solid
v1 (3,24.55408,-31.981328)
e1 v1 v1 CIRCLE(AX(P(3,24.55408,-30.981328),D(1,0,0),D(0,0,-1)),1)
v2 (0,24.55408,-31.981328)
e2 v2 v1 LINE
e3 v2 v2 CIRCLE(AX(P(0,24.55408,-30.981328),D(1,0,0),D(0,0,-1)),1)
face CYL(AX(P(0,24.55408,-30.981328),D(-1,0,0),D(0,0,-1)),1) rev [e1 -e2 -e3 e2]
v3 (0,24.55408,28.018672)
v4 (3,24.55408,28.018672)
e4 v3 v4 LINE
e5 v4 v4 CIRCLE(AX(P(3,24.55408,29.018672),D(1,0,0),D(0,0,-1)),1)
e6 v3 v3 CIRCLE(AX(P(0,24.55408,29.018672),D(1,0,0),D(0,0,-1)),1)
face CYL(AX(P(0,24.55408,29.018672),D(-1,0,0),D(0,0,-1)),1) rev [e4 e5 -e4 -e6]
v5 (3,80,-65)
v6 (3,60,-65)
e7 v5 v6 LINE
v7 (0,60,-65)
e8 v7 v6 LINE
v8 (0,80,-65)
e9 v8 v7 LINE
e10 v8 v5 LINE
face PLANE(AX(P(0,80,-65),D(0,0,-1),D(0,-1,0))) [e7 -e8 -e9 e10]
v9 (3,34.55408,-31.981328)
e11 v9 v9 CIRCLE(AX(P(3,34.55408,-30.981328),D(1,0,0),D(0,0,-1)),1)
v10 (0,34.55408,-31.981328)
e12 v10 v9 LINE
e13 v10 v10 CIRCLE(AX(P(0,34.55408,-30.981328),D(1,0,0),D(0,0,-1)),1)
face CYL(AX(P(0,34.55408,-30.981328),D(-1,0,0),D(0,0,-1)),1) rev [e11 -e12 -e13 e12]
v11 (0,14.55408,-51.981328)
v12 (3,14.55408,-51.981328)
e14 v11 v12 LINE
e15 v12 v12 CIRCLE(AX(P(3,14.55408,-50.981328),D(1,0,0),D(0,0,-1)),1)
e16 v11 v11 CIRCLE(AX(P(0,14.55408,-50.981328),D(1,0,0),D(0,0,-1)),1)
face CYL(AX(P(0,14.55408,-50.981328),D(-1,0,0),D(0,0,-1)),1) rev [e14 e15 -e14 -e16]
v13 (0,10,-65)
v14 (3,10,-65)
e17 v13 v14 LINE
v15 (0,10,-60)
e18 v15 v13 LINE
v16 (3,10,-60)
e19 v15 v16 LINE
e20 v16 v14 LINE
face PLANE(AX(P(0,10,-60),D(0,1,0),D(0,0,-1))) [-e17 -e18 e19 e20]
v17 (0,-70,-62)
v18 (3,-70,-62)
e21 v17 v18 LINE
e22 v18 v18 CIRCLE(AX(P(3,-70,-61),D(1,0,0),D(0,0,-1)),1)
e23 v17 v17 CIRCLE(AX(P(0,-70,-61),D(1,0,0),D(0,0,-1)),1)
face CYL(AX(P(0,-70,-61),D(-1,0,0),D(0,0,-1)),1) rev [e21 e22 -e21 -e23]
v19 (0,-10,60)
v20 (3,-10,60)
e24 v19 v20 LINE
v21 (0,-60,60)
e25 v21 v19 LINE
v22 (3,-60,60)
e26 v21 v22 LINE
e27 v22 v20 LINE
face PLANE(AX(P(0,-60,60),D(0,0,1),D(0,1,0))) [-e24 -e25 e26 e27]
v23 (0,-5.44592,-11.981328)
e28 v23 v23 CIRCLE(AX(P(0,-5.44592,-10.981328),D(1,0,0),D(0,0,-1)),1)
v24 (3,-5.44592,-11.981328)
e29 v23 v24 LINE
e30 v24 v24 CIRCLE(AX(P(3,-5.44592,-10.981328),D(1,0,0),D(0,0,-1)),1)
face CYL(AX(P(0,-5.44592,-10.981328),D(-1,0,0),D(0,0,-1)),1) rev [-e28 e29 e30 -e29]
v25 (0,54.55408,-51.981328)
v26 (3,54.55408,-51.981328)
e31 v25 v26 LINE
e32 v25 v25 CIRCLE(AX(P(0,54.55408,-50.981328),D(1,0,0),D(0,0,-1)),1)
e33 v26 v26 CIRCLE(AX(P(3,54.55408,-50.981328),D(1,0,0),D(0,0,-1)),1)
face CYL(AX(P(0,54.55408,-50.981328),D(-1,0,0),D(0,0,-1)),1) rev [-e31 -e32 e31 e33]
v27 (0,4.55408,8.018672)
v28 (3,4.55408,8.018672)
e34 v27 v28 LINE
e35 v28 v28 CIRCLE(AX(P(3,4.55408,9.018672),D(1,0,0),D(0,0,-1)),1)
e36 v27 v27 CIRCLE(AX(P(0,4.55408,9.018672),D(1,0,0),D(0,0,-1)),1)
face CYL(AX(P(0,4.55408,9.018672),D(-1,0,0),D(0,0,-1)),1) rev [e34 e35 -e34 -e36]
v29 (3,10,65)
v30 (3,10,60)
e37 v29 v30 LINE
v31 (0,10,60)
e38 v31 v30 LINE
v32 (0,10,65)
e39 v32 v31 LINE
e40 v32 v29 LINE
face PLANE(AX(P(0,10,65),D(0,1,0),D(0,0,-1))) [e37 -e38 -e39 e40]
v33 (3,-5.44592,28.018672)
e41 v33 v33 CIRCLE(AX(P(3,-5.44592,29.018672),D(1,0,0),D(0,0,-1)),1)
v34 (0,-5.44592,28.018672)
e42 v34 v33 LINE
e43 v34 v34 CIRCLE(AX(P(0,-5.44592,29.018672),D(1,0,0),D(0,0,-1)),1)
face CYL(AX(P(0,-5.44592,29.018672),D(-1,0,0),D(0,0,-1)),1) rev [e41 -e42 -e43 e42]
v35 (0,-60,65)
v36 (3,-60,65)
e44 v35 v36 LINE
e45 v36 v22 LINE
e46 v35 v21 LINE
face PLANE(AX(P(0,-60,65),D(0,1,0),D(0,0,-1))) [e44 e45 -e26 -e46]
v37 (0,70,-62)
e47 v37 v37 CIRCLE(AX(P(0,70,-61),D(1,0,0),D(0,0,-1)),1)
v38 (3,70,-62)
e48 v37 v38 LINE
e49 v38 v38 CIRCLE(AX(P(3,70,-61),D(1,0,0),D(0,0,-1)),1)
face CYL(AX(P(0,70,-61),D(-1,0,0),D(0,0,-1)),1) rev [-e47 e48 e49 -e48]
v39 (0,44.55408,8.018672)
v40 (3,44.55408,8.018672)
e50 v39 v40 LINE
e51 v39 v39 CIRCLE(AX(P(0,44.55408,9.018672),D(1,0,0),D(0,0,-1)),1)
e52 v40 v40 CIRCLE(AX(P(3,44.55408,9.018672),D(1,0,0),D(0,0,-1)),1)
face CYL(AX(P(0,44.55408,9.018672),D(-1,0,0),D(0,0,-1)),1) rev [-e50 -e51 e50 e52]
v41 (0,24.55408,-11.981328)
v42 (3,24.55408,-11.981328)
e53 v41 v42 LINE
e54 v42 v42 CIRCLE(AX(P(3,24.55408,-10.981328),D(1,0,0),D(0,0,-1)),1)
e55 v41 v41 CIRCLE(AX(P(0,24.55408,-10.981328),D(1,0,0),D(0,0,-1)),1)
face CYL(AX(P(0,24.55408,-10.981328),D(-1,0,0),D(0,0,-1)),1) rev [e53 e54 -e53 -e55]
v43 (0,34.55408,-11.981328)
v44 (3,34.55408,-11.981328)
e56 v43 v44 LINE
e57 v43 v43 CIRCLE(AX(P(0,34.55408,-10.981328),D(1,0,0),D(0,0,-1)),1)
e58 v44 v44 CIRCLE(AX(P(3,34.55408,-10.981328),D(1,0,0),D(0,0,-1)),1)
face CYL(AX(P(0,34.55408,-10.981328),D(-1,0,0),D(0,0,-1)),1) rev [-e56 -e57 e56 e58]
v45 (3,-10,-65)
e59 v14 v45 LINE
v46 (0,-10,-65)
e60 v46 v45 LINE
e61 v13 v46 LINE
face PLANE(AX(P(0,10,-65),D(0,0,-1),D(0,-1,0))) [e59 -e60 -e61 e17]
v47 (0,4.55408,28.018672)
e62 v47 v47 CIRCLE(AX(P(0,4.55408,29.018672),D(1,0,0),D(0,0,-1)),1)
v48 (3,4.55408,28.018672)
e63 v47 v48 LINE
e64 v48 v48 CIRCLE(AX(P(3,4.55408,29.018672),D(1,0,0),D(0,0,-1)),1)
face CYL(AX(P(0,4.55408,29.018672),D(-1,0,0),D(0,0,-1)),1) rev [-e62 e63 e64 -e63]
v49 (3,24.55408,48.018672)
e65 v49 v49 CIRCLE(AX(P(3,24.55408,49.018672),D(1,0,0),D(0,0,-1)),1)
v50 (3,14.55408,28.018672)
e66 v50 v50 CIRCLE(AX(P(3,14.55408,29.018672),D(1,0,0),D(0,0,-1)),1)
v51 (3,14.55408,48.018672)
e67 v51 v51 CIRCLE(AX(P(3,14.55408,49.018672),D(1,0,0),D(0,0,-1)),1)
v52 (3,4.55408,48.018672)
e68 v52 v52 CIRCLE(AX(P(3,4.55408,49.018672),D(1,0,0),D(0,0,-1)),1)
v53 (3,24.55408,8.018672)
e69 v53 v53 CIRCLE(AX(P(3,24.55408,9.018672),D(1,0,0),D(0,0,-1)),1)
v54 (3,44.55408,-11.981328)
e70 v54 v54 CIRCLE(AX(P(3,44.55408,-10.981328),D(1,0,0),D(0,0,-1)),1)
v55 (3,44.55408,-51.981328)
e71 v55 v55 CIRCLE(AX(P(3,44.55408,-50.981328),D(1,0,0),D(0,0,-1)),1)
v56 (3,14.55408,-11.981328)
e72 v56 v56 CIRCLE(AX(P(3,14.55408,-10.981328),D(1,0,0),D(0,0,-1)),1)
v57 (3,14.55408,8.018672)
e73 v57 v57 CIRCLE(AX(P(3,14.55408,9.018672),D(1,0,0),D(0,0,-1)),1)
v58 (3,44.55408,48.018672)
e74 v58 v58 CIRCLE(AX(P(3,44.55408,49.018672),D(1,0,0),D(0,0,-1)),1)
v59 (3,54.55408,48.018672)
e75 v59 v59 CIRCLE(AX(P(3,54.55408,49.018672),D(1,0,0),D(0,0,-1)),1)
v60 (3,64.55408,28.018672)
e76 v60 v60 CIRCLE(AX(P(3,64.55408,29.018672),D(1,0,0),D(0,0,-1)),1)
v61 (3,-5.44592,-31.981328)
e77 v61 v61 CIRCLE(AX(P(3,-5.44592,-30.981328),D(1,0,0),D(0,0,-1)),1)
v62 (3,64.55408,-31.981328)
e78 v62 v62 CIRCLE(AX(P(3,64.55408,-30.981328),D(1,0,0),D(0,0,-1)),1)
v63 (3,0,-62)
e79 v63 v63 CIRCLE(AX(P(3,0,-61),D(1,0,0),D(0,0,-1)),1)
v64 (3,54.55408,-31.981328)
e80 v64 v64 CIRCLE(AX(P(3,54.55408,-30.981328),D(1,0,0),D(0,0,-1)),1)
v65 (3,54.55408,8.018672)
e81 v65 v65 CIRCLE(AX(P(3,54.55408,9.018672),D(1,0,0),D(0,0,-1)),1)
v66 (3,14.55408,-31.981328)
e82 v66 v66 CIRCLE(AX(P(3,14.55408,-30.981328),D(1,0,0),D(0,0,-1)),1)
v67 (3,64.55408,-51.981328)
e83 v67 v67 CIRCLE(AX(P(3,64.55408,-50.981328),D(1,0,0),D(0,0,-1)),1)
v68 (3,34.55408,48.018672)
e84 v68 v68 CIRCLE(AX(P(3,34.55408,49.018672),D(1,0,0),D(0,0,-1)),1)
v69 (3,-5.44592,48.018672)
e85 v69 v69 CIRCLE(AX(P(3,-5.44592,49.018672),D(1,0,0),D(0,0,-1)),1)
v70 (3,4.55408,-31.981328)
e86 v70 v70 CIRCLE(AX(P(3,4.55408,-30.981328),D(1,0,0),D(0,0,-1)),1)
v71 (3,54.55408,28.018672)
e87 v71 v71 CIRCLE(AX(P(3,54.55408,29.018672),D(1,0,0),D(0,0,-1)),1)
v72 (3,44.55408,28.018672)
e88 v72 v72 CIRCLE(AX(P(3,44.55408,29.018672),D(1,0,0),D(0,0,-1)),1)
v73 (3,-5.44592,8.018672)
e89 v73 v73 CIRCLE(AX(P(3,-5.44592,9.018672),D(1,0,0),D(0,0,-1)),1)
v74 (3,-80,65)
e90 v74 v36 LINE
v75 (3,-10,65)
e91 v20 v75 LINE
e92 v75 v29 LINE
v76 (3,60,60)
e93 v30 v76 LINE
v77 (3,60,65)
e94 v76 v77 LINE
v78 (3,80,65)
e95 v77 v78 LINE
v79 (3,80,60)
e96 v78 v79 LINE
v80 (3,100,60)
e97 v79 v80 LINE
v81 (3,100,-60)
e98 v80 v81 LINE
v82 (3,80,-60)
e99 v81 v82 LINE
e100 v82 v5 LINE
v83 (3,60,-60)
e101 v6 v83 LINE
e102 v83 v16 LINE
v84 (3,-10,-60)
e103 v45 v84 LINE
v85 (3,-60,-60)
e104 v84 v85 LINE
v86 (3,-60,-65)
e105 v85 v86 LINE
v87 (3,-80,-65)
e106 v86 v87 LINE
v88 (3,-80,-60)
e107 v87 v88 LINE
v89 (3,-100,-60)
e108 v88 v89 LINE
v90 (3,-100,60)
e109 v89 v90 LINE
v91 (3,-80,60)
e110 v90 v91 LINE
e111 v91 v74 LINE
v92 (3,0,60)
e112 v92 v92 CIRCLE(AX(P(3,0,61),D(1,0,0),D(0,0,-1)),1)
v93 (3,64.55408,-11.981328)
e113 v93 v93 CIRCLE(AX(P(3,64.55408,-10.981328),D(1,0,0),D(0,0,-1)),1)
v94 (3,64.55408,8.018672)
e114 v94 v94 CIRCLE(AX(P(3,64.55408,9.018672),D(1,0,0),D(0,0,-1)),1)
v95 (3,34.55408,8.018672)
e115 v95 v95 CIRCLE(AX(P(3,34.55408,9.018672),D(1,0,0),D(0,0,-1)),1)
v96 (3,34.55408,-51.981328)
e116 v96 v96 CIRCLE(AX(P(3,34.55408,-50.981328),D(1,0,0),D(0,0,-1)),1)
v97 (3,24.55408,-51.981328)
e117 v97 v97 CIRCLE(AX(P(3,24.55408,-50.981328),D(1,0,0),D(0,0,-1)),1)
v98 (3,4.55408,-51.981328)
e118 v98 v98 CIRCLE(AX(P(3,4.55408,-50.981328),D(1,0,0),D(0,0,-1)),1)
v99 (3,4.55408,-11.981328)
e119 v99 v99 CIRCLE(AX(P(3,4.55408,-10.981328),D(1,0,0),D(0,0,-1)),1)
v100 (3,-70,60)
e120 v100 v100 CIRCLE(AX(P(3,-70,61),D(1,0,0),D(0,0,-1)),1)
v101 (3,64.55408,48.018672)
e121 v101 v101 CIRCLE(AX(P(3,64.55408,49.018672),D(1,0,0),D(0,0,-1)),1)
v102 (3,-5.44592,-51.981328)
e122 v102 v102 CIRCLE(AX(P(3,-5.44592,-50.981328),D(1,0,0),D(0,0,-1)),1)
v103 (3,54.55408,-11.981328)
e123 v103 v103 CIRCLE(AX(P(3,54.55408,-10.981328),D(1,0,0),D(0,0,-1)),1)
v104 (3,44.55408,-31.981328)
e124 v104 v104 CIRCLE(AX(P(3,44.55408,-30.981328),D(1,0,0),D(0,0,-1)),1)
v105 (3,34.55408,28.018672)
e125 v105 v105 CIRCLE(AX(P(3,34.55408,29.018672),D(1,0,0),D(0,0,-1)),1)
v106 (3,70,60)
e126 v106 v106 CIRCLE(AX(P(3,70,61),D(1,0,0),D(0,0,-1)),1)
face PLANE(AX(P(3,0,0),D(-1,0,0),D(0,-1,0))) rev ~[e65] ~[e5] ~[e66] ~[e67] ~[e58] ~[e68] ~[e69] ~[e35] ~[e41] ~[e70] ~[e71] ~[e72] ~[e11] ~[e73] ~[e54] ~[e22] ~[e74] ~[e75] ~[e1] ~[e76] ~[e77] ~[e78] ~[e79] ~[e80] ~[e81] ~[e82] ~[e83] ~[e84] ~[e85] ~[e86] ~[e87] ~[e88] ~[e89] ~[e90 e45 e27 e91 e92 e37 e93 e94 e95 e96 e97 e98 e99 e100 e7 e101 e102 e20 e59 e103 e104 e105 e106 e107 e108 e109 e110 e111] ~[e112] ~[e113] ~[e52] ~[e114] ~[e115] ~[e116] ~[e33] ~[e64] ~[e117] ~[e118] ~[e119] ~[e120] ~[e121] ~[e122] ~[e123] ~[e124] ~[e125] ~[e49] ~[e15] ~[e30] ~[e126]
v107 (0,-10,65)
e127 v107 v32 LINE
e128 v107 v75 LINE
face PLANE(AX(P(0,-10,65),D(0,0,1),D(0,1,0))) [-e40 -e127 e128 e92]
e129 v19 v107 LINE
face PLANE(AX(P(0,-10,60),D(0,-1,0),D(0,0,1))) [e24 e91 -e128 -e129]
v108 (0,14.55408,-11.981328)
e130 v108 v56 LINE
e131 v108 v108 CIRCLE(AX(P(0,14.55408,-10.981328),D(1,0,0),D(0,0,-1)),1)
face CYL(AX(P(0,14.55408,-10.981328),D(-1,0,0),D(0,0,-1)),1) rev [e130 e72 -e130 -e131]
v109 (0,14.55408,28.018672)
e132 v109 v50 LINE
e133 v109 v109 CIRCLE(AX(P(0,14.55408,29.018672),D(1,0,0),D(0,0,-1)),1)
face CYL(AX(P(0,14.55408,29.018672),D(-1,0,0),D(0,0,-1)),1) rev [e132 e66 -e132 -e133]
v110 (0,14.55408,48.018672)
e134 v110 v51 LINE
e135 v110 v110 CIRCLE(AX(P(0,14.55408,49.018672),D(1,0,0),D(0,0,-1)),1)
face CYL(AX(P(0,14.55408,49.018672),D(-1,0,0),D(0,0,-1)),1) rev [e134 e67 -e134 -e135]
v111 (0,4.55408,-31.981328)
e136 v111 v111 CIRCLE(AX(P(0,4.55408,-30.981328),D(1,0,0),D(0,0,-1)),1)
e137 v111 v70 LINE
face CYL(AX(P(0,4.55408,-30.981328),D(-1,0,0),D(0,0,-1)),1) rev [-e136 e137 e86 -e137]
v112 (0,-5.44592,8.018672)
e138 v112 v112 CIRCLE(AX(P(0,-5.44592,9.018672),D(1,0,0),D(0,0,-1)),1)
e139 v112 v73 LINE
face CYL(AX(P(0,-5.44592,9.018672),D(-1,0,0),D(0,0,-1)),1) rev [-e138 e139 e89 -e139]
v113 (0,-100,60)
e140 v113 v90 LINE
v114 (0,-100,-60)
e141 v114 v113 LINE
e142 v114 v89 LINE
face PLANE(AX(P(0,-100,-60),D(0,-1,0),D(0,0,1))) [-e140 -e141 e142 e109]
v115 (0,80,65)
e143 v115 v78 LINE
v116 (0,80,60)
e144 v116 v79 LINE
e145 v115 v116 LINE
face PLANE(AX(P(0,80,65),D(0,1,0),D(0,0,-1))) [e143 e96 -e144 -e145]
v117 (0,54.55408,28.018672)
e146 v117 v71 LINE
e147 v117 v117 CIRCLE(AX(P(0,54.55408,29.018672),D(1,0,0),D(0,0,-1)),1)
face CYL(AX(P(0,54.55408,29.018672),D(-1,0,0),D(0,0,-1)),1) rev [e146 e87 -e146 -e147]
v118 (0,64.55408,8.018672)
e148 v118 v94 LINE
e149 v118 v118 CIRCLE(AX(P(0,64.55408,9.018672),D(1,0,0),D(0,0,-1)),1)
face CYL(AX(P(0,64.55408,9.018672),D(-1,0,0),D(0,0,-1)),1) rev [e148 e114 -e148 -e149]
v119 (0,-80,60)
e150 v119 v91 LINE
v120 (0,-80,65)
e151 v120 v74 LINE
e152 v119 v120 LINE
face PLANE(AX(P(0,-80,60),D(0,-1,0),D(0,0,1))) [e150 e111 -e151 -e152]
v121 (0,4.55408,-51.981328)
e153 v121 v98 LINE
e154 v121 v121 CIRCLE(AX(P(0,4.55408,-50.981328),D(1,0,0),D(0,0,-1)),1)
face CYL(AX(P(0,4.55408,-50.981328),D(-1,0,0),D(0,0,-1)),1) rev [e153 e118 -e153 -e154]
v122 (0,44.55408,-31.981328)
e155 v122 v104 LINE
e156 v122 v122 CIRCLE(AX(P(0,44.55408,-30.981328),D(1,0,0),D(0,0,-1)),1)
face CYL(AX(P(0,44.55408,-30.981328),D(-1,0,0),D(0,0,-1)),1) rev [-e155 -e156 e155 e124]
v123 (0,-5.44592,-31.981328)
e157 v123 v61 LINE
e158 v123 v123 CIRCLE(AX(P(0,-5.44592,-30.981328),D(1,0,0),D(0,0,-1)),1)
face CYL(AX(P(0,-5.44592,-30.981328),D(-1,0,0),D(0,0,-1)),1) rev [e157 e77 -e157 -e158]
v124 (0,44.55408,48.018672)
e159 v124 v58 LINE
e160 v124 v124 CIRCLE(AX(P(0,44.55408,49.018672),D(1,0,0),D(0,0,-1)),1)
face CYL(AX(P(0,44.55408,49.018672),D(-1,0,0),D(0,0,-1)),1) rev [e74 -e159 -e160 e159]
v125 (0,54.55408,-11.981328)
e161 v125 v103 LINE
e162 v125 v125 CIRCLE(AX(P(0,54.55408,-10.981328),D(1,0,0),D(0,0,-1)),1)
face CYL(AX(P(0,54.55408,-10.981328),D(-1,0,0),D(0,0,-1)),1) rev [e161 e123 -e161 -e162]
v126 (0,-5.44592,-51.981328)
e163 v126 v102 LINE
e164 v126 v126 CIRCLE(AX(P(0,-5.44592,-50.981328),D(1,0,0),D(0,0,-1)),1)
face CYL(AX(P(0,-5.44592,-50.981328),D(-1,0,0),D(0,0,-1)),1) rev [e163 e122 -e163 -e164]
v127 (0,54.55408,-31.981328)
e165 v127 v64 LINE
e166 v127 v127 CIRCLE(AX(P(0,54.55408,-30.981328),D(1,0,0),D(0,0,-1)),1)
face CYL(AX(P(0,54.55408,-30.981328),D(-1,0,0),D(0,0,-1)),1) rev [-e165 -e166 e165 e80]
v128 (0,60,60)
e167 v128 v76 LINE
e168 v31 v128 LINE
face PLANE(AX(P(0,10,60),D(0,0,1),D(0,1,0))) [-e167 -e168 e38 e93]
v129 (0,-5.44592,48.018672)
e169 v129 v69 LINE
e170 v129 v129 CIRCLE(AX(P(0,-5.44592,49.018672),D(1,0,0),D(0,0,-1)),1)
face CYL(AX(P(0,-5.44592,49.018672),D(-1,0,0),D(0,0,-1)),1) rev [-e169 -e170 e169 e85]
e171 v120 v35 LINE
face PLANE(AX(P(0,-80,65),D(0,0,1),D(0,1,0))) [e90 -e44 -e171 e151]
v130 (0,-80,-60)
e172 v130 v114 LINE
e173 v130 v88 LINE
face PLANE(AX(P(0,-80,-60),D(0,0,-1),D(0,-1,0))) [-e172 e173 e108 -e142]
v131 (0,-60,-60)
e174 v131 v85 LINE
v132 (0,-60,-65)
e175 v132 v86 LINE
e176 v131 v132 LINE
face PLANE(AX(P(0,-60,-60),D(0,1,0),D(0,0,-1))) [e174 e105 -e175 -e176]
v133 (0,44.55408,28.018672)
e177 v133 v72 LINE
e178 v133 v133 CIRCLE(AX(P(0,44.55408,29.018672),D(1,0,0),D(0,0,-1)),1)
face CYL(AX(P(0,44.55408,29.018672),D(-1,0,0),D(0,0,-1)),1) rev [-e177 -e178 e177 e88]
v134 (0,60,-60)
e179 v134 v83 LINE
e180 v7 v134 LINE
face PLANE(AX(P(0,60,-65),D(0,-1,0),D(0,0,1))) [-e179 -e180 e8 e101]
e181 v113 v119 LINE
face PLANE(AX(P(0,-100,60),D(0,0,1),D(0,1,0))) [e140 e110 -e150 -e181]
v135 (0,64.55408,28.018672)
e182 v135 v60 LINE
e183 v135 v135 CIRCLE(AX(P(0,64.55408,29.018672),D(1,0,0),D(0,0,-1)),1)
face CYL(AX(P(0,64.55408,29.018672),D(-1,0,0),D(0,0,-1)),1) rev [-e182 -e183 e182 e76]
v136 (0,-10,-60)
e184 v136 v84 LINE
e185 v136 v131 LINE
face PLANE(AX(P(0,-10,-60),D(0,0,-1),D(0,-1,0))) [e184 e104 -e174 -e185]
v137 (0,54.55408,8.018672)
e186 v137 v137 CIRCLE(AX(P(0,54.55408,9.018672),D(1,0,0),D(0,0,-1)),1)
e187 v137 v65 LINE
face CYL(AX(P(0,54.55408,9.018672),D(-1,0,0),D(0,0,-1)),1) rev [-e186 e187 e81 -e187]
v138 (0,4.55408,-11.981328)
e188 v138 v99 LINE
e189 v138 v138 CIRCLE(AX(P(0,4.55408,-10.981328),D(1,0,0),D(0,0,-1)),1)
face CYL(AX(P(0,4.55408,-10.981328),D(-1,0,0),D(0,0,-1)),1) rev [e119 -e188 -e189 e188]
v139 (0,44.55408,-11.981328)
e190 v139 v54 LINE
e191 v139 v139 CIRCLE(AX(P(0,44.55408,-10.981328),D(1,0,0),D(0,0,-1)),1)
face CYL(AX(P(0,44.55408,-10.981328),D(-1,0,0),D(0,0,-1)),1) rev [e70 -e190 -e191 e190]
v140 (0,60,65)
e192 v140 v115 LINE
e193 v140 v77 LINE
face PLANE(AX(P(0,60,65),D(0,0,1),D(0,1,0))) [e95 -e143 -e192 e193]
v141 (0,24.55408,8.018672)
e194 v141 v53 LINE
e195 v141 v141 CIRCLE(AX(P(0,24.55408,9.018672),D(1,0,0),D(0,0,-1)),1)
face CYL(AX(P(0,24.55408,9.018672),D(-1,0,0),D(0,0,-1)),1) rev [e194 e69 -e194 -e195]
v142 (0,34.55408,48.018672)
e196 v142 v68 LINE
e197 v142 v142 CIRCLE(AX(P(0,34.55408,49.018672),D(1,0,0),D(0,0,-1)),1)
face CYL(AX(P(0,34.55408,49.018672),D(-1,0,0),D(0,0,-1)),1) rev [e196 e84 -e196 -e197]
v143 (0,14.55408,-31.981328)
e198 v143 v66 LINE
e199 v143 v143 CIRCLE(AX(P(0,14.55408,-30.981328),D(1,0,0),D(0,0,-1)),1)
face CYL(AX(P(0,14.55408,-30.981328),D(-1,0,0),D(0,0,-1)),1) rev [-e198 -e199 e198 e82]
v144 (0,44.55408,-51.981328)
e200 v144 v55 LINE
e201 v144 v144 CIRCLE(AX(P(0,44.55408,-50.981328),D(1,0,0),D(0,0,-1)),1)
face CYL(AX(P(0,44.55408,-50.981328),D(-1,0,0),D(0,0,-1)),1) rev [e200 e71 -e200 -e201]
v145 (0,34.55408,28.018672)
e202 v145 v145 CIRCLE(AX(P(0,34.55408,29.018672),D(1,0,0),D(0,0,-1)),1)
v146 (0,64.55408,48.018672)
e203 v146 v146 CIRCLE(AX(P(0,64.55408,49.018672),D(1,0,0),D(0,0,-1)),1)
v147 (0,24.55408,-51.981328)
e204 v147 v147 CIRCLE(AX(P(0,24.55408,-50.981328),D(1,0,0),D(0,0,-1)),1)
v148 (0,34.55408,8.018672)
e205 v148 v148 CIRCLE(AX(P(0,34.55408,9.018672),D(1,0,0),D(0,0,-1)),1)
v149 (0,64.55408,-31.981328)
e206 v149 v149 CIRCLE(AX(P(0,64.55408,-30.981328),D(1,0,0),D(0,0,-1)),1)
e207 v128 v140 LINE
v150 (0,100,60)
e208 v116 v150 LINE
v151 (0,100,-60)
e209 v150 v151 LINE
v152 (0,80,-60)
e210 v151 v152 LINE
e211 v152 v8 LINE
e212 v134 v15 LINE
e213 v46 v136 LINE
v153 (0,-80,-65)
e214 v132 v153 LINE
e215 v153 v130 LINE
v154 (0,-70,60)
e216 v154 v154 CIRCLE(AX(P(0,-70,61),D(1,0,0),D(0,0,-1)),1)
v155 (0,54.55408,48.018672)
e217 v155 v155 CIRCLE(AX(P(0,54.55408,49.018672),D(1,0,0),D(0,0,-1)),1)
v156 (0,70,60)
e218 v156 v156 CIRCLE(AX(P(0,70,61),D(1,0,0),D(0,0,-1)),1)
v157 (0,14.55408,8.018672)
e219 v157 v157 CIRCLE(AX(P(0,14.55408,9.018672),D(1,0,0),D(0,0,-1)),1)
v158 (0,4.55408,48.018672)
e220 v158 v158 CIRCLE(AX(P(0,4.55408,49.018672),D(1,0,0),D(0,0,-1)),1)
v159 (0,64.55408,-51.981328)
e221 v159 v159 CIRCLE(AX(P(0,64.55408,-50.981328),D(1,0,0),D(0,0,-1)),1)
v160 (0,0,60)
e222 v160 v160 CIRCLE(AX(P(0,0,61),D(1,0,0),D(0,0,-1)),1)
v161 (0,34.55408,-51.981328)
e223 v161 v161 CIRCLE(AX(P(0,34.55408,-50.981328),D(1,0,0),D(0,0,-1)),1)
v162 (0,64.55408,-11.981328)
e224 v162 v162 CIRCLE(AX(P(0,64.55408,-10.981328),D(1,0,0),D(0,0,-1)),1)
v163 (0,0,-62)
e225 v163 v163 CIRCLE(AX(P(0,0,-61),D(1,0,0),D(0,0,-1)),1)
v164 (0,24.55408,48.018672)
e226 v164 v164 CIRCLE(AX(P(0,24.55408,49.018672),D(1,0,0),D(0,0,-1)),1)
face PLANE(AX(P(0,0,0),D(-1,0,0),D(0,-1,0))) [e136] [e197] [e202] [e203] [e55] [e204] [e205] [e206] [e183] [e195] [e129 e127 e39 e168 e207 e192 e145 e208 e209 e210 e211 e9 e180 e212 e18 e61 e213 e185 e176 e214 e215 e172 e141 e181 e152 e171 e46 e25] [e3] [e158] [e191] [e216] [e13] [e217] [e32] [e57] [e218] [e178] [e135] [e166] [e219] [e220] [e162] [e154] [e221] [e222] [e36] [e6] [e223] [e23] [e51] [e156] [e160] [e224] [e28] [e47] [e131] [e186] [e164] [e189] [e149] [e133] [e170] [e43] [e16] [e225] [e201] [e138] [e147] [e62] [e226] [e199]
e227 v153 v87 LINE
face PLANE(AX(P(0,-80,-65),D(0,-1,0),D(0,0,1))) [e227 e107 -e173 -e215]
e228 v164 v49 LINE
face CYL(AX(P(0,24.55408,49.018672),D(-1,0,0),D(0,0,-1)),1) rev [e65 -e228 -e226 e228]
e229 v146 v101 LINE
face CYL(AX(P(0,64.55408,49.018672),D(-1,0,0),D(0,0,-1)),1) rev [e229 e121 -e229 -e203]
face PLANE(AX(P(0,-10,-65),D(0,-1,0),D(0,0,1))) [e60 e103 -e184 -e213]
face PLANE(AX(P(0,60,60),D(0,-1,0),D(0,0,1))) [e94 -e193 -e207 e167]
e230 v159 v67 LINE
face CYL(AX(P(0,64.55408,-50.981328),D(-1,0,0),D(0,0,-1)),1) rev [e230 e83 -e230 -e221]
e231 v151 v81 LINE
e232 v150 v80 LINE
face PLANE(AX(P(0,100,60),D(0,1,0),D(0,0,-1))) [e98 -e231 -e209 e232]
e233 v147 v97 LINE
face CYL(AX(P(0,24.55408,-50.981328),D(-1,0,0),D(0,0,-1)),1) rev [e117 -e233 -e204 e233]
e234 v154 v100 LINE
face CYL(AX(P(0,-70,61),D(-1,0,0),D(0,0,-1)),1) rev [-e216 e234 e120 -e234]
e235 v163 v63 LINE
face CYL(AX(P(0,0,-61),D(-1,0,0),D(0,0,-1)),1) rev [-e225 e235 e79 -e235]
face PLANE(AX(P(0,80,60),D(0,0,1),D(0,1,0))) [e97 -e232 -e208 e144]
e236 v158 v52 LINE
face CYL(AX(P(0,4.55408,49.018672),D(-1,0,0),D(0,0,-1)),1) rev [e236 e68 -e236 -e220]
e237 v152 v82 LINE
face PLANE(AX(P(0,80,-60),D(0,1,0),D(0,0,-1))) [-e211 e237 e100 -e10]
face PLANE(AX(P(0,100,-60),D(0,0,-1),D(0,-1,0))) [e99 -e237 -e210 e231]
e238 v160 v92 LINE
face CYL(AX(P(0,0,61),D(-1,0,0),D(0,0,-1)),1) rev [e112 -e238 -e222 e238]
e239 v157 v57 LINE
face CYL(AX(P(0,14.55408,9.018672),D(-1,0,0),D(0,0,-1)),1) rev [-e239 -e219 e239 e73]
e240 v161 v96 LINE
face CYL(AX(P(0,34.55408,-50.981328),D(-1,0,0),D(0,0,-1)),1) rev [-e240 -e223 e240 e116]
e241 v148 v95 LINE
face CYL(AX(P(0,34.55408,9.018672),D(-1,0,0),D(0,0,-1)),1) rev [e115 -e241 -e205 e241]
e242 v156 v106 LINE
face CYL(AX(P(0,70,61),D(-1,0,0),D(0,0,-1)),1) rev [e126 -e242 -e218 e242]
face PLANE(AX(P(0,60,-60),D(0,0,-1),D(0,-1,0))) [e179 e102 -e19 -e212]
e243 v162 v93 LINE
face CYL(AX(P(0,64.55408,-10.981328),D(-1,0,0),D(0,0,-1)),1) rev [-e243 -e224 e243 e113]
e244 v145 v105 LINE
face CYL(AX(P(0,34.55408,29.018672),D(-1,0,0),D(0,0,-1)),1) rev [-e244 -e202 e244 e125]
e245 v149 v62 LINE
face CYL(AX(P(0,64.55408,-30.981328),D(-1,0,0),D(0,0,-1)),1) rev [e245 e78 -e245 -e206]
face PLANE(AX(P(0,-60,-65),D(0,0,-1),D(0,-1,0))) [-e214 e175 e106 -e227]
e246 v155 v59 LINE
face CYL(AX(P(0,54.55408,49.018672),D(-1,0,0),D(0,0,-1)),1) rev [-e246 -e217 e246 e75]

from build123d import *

# Parameters (mm, degrees)
SKETCH1_R           = 1
BOSS_EXTRUDE1_DEPTH = 3


with BuildPart() as part:
    # Sketch1 → Boss-Extrude1 (new body)
    with BuildSketch(Plane.YZ):
        Polygon((-80, 60), (-80, 65), (-60, 65), (-60, 60), (-10, 60), (-10, 65), (10, 65), (10, 60), (60, 60), (60, 65), (80, 65), (80, 60), (100, 60), (100, -60), (80, -60), (80, -65), (60, -65), (60, -60), (10, -60), (10, -65), (-10, -65), (-10, -60), (-60, -60), (-60, -65), (-80, -65), (-80, -60), (-100, -60), (-100, 60), align=None)
        with Locations(Location((-5.445919919, 49.018671667, 0), (0, 0, 270))):
            Circle(SKETCH1_R, mode=Mode.SUBTRACT)
        with Locations(Location((4.554080081, 49.018671667, 0), (0, 0, 270))):
            Circle(SKETCH1_R, mode=Mode.SUBTRACT)
        with Locations(Location((14.554080081, 49.018671667, 0), (0, 0, 270))):
            Circle(SKETCH1_R, mode=Mode.SUBTRACT)
        with Locations(Location((24.554080081, 49.018671667, 0), (0, 0, 270))):
            Circle(SKETCH1_R, mode=Mode.SUBTRACT)
        with Locations(Location((34.554080081, 49.018671667, 0), (0, 0, 270))):
            Circle(SKETCH1_R, mode=Mode.SUBTRACT)
        with Locations(Location((44.554080081, 49.018671667, 0), (0, 0, 270))):
            Circle(SKETCH1_R, mode=Mode.SUBTRACT)
        with Locations(Location((54.554080081, 49.018671667, 0), (0, 0, 270))):
            Circle(SKETCH1_R, mode=Mode.SUBTRACT)
        with Locations(Location((64.554080081, 49.018671667, 0), (0, 0, 270))):
            Circle(SKETCH1_R, mode=Mode.SUBTRACT)
        with Locations(Location((-5.445919919, 29.018671667, 0), (0, 0, 270))):
            Circle(SKETCH1_R, mode=Mode.SUBTRACT)
        with Locations(Location((4.554080081, 29.018671667, 0), (0, 0, 270))):
            Circle(SKETCH1_R, mode=Mode.SUBTRACT)
        with Locations(Location((14.554080081, 29.018671667, 0), (0, 0, 270))):
            Circle(SKETCH1_R, mode=Mode.SUBTRACT)
        with Locations(Location((24.554080081, 29.018671667, 0), (0, 0, 270))):
            Circle(SKETCH1_R, mode=Mode.SUBTRACT)
        with Locations(Location((34.554080081, 29.018671667, 0), (0, 0, 270))):
            Circle(SKETCH1_R, mode=Mode.SUBTRACT)
        with Locations(Location((44.554080081, 29.018671667, 0), (0, 0, 270))):
            Circle(SKETCH1_R, mode=Mode.SUBTRACT)
        with Locations(Location((54.554080081, 29.018671667, 0), (0, 0, 270))):
            Circle(SKETCH1_R, mode=Mode.SUBTRACT)
        with Locations(Location((64.554080081, 29.018671667, 0), (0, 0, 270))):
            Circle(SKETCH1_R, mode=Mode.SUBTRACT)
        with Locations(Location((-5.445919919, 9.018671667, 0), (0, 0, 270))):
            Circle(SKETCH1_R, mode=Mode.SUBTRACT)
        with Locations(Location((4.554080081, 9.018671667, 0), (0, 0, 270))):
            Circle(SKETCH1_R, mode=Mode.SUBTRACT)
        with Locations(Location((14.554080081, 9.018671667, 0), (0, 0, 270))):
            Circle(SKETCH1_R, mode=Mode.SUBTRACT)
        with Locations(Location((24.554080081, 9.018671667, 0), (0, 0, 270))):
            Circle(SKETCH1_R, mode=Mode.SUBTRACT)
        with Locations(Location((34.554080081, 9.018671667, 0), (0, 0, 270))):
            Circle(SKETCH1_R, mode=Mode.SUBTRACT)
        with Locations(Location((44.554080081, 9.018671667, 0), (0, 0, 270))):
            Circle(SKETCH1_R, mode=Mode.SUBTRACT)
        with Locations(Location((54.554080081, 9.018671667, 0), (0, 0, 270))):
            Circle(SKETCH1_R, mode=Mode.SUBTRACT)
        with Locations(Location((64.554080081, 9.018671667, 0), (0, 0, 270))):
            Circle(SKETCH1_R, mode=Mode.SUBTRACT)
        with Locations(Location((-5.445919919, -10.981328333, 0), (0, 0, 270))):
            Circle(SKETCH1_R, mode=Mode.SUBTRACT)
        with Locations(Location((4.554080081, -10.981328333, 0), (0, 0, 270))):
            Circle(SKETCH1_R, mode=Mode.SUBTRACT)
        with Locations(Location((14.554080081, -10.981328333, 0), (0, 0, 270))):
            Circle(SKETCH1_R, mode=Mode.SUBTRACT)
        with Locations(Location((24.554080081, -10.981328333, 0), (0, 0, 270))):
            Circle(SKETCH1_R, mode=Mode.SUBTRACT)
        with Locations(Location((34.554080081, -10.981328333, 0), (0, 0, 270))):
            Circle(SKETCH1_R, mode=Mode.SUBTRACT)
        with Locations(Location((44.554080081, -10.981328333, 0), (0, 0, 270))):
            Circle(SKETCH1_R, mode=Mode.SUBTRACT)
        with Locations(Location((54.554080081, -10.981328333, 0), (0, 0, 270))):
            Circle(SKETCH1_R, mode=Mode.SUBTRACT)
        with Locations(Location((64.554080081, -10.981328333, 0), (0, 0, 270))):
            Circle(SKETCH1_R, mode=Mode.SUBTRACT)
        with Locations(Location((-5.445919919, -30.981328333, 0), (0, 0, 270))):
            Circle(SKETCH1_R, mode=Mode.SUBTRACT)
        with Locations(Location((4.554080081, -30.981328333, 0), (0, 0, 270))):
            Circle(SKETCH1_R, mode=Mode.SUBTRACT)
        with Locations(Location((14.554080081, -30.981328333, 0), (0, 0, 270))):
            Circle(SKETCH1_R, mode=Mode.SUBTRACT)
        with Locations(Location((24.554080081, -30.981328333, 0), (0, 0, 270))):
            Circle(SKETCH1_R, mode=Mode.SUBTRACT)
        with Locations(Location((34.554080081, -30.981328333, 0), (0, 0, 270))):
            Circle(SKETCH1_R, mode=Mode.SUBTRACT)
        with Locations(Location((44.554080081, -30.981328333, 0), (0, 0, 270))):
            Circle(SKETCH1_R, mode=Mode.SUBTRACT)
        with Locations(Location((54.554080081, -30.981328333, 0), (0, 0, 270))):
            Circle(SKETCH1_R, mode=Mode.SUBTRACT)
        with Locations(Location((64.554080081, -30.981328333, 0), (0, 0, 270))):
            Circle(SKETCH1_R, mode=Mode.SUBTRACT)
        with Locations(Location((-5.445919919, -50.981328333, 0), (0, 0, 270))):
            Circle(SKETCH1_R, mode=Mode.SUBTRACT)
        with Locations(Location((4.554080081, -50.981328333, 0), (0, 0, 270))):
            Circle(SKETCH1_R, mode=Mode.SUBTRACT)
        with Locations(Location((14.554080081, -50.981328333, 0), (0, 0, 270))):
            Circle(SKETCH1_R, mode=Mode.SUBTRACT)
        with Locations(Location((24.554080081, -50.981328333, 0), (0, 0, 270))):
            Circle(SKETCH1_R, mode=Mode.SUBTRACT)
        with Locations(Location((34.554080081, -50.981328333, 0), (0, 0, 270))):
            Circle(SKETCH1_R, mode=Mode.SUBTRACT)
        with Locations(Location((44.554080081, -50.981328333, 0), (0, 0, 270))):
            Circle(SKETCH1_R, mode=Mode.SUBTRACT)
        with Locations(Location((54.554080081, -50.981328333, 0), (0, 0, 270))):
            Circle(SKETCH1_R, mode=Mode.SUBTRACT)
        with Locations(Location((64.554080081, -50.981328333, 0), (0, 0, 270))):
            Circle(SKETCH1_R, mode=Mode.SUBTRACT)
        with Locations(Location((-70, 61, 0), (0, 0, 270))):
            Circle(SKETCH1_R, mode=Mode.SUBTRACT)
        with Locations(Location((70, 61, 0), (0, 0, 270))):
            Circle(SKETCH1_R, mode=Mode.SUBTRACT)
        with Locations(Location((0, 61, 0), (0, 0, 270))):
            Circle(SKETCH1_R, mode=Mode.SUBTRACT)
        with Locations(Location((70, -61, 0), (0, 0, 270))):
            Circle(SKETCH1_R, mode=Mode.SUBTRACT)
        with Locations(Location((0, -61, 0), (0, 0, 270))):
            Circle(SKETCH1_R, mode=Mode.SUBTRACT)
        with Locations(Location((-70, -61, 0), (0, 0, 270))):
            Circle(SKETCH1_R, mode=Mode.SUBTRACT)
    extrude(amount=BOSS_EXTRUDE1_DEPTH)


solid = part.part
